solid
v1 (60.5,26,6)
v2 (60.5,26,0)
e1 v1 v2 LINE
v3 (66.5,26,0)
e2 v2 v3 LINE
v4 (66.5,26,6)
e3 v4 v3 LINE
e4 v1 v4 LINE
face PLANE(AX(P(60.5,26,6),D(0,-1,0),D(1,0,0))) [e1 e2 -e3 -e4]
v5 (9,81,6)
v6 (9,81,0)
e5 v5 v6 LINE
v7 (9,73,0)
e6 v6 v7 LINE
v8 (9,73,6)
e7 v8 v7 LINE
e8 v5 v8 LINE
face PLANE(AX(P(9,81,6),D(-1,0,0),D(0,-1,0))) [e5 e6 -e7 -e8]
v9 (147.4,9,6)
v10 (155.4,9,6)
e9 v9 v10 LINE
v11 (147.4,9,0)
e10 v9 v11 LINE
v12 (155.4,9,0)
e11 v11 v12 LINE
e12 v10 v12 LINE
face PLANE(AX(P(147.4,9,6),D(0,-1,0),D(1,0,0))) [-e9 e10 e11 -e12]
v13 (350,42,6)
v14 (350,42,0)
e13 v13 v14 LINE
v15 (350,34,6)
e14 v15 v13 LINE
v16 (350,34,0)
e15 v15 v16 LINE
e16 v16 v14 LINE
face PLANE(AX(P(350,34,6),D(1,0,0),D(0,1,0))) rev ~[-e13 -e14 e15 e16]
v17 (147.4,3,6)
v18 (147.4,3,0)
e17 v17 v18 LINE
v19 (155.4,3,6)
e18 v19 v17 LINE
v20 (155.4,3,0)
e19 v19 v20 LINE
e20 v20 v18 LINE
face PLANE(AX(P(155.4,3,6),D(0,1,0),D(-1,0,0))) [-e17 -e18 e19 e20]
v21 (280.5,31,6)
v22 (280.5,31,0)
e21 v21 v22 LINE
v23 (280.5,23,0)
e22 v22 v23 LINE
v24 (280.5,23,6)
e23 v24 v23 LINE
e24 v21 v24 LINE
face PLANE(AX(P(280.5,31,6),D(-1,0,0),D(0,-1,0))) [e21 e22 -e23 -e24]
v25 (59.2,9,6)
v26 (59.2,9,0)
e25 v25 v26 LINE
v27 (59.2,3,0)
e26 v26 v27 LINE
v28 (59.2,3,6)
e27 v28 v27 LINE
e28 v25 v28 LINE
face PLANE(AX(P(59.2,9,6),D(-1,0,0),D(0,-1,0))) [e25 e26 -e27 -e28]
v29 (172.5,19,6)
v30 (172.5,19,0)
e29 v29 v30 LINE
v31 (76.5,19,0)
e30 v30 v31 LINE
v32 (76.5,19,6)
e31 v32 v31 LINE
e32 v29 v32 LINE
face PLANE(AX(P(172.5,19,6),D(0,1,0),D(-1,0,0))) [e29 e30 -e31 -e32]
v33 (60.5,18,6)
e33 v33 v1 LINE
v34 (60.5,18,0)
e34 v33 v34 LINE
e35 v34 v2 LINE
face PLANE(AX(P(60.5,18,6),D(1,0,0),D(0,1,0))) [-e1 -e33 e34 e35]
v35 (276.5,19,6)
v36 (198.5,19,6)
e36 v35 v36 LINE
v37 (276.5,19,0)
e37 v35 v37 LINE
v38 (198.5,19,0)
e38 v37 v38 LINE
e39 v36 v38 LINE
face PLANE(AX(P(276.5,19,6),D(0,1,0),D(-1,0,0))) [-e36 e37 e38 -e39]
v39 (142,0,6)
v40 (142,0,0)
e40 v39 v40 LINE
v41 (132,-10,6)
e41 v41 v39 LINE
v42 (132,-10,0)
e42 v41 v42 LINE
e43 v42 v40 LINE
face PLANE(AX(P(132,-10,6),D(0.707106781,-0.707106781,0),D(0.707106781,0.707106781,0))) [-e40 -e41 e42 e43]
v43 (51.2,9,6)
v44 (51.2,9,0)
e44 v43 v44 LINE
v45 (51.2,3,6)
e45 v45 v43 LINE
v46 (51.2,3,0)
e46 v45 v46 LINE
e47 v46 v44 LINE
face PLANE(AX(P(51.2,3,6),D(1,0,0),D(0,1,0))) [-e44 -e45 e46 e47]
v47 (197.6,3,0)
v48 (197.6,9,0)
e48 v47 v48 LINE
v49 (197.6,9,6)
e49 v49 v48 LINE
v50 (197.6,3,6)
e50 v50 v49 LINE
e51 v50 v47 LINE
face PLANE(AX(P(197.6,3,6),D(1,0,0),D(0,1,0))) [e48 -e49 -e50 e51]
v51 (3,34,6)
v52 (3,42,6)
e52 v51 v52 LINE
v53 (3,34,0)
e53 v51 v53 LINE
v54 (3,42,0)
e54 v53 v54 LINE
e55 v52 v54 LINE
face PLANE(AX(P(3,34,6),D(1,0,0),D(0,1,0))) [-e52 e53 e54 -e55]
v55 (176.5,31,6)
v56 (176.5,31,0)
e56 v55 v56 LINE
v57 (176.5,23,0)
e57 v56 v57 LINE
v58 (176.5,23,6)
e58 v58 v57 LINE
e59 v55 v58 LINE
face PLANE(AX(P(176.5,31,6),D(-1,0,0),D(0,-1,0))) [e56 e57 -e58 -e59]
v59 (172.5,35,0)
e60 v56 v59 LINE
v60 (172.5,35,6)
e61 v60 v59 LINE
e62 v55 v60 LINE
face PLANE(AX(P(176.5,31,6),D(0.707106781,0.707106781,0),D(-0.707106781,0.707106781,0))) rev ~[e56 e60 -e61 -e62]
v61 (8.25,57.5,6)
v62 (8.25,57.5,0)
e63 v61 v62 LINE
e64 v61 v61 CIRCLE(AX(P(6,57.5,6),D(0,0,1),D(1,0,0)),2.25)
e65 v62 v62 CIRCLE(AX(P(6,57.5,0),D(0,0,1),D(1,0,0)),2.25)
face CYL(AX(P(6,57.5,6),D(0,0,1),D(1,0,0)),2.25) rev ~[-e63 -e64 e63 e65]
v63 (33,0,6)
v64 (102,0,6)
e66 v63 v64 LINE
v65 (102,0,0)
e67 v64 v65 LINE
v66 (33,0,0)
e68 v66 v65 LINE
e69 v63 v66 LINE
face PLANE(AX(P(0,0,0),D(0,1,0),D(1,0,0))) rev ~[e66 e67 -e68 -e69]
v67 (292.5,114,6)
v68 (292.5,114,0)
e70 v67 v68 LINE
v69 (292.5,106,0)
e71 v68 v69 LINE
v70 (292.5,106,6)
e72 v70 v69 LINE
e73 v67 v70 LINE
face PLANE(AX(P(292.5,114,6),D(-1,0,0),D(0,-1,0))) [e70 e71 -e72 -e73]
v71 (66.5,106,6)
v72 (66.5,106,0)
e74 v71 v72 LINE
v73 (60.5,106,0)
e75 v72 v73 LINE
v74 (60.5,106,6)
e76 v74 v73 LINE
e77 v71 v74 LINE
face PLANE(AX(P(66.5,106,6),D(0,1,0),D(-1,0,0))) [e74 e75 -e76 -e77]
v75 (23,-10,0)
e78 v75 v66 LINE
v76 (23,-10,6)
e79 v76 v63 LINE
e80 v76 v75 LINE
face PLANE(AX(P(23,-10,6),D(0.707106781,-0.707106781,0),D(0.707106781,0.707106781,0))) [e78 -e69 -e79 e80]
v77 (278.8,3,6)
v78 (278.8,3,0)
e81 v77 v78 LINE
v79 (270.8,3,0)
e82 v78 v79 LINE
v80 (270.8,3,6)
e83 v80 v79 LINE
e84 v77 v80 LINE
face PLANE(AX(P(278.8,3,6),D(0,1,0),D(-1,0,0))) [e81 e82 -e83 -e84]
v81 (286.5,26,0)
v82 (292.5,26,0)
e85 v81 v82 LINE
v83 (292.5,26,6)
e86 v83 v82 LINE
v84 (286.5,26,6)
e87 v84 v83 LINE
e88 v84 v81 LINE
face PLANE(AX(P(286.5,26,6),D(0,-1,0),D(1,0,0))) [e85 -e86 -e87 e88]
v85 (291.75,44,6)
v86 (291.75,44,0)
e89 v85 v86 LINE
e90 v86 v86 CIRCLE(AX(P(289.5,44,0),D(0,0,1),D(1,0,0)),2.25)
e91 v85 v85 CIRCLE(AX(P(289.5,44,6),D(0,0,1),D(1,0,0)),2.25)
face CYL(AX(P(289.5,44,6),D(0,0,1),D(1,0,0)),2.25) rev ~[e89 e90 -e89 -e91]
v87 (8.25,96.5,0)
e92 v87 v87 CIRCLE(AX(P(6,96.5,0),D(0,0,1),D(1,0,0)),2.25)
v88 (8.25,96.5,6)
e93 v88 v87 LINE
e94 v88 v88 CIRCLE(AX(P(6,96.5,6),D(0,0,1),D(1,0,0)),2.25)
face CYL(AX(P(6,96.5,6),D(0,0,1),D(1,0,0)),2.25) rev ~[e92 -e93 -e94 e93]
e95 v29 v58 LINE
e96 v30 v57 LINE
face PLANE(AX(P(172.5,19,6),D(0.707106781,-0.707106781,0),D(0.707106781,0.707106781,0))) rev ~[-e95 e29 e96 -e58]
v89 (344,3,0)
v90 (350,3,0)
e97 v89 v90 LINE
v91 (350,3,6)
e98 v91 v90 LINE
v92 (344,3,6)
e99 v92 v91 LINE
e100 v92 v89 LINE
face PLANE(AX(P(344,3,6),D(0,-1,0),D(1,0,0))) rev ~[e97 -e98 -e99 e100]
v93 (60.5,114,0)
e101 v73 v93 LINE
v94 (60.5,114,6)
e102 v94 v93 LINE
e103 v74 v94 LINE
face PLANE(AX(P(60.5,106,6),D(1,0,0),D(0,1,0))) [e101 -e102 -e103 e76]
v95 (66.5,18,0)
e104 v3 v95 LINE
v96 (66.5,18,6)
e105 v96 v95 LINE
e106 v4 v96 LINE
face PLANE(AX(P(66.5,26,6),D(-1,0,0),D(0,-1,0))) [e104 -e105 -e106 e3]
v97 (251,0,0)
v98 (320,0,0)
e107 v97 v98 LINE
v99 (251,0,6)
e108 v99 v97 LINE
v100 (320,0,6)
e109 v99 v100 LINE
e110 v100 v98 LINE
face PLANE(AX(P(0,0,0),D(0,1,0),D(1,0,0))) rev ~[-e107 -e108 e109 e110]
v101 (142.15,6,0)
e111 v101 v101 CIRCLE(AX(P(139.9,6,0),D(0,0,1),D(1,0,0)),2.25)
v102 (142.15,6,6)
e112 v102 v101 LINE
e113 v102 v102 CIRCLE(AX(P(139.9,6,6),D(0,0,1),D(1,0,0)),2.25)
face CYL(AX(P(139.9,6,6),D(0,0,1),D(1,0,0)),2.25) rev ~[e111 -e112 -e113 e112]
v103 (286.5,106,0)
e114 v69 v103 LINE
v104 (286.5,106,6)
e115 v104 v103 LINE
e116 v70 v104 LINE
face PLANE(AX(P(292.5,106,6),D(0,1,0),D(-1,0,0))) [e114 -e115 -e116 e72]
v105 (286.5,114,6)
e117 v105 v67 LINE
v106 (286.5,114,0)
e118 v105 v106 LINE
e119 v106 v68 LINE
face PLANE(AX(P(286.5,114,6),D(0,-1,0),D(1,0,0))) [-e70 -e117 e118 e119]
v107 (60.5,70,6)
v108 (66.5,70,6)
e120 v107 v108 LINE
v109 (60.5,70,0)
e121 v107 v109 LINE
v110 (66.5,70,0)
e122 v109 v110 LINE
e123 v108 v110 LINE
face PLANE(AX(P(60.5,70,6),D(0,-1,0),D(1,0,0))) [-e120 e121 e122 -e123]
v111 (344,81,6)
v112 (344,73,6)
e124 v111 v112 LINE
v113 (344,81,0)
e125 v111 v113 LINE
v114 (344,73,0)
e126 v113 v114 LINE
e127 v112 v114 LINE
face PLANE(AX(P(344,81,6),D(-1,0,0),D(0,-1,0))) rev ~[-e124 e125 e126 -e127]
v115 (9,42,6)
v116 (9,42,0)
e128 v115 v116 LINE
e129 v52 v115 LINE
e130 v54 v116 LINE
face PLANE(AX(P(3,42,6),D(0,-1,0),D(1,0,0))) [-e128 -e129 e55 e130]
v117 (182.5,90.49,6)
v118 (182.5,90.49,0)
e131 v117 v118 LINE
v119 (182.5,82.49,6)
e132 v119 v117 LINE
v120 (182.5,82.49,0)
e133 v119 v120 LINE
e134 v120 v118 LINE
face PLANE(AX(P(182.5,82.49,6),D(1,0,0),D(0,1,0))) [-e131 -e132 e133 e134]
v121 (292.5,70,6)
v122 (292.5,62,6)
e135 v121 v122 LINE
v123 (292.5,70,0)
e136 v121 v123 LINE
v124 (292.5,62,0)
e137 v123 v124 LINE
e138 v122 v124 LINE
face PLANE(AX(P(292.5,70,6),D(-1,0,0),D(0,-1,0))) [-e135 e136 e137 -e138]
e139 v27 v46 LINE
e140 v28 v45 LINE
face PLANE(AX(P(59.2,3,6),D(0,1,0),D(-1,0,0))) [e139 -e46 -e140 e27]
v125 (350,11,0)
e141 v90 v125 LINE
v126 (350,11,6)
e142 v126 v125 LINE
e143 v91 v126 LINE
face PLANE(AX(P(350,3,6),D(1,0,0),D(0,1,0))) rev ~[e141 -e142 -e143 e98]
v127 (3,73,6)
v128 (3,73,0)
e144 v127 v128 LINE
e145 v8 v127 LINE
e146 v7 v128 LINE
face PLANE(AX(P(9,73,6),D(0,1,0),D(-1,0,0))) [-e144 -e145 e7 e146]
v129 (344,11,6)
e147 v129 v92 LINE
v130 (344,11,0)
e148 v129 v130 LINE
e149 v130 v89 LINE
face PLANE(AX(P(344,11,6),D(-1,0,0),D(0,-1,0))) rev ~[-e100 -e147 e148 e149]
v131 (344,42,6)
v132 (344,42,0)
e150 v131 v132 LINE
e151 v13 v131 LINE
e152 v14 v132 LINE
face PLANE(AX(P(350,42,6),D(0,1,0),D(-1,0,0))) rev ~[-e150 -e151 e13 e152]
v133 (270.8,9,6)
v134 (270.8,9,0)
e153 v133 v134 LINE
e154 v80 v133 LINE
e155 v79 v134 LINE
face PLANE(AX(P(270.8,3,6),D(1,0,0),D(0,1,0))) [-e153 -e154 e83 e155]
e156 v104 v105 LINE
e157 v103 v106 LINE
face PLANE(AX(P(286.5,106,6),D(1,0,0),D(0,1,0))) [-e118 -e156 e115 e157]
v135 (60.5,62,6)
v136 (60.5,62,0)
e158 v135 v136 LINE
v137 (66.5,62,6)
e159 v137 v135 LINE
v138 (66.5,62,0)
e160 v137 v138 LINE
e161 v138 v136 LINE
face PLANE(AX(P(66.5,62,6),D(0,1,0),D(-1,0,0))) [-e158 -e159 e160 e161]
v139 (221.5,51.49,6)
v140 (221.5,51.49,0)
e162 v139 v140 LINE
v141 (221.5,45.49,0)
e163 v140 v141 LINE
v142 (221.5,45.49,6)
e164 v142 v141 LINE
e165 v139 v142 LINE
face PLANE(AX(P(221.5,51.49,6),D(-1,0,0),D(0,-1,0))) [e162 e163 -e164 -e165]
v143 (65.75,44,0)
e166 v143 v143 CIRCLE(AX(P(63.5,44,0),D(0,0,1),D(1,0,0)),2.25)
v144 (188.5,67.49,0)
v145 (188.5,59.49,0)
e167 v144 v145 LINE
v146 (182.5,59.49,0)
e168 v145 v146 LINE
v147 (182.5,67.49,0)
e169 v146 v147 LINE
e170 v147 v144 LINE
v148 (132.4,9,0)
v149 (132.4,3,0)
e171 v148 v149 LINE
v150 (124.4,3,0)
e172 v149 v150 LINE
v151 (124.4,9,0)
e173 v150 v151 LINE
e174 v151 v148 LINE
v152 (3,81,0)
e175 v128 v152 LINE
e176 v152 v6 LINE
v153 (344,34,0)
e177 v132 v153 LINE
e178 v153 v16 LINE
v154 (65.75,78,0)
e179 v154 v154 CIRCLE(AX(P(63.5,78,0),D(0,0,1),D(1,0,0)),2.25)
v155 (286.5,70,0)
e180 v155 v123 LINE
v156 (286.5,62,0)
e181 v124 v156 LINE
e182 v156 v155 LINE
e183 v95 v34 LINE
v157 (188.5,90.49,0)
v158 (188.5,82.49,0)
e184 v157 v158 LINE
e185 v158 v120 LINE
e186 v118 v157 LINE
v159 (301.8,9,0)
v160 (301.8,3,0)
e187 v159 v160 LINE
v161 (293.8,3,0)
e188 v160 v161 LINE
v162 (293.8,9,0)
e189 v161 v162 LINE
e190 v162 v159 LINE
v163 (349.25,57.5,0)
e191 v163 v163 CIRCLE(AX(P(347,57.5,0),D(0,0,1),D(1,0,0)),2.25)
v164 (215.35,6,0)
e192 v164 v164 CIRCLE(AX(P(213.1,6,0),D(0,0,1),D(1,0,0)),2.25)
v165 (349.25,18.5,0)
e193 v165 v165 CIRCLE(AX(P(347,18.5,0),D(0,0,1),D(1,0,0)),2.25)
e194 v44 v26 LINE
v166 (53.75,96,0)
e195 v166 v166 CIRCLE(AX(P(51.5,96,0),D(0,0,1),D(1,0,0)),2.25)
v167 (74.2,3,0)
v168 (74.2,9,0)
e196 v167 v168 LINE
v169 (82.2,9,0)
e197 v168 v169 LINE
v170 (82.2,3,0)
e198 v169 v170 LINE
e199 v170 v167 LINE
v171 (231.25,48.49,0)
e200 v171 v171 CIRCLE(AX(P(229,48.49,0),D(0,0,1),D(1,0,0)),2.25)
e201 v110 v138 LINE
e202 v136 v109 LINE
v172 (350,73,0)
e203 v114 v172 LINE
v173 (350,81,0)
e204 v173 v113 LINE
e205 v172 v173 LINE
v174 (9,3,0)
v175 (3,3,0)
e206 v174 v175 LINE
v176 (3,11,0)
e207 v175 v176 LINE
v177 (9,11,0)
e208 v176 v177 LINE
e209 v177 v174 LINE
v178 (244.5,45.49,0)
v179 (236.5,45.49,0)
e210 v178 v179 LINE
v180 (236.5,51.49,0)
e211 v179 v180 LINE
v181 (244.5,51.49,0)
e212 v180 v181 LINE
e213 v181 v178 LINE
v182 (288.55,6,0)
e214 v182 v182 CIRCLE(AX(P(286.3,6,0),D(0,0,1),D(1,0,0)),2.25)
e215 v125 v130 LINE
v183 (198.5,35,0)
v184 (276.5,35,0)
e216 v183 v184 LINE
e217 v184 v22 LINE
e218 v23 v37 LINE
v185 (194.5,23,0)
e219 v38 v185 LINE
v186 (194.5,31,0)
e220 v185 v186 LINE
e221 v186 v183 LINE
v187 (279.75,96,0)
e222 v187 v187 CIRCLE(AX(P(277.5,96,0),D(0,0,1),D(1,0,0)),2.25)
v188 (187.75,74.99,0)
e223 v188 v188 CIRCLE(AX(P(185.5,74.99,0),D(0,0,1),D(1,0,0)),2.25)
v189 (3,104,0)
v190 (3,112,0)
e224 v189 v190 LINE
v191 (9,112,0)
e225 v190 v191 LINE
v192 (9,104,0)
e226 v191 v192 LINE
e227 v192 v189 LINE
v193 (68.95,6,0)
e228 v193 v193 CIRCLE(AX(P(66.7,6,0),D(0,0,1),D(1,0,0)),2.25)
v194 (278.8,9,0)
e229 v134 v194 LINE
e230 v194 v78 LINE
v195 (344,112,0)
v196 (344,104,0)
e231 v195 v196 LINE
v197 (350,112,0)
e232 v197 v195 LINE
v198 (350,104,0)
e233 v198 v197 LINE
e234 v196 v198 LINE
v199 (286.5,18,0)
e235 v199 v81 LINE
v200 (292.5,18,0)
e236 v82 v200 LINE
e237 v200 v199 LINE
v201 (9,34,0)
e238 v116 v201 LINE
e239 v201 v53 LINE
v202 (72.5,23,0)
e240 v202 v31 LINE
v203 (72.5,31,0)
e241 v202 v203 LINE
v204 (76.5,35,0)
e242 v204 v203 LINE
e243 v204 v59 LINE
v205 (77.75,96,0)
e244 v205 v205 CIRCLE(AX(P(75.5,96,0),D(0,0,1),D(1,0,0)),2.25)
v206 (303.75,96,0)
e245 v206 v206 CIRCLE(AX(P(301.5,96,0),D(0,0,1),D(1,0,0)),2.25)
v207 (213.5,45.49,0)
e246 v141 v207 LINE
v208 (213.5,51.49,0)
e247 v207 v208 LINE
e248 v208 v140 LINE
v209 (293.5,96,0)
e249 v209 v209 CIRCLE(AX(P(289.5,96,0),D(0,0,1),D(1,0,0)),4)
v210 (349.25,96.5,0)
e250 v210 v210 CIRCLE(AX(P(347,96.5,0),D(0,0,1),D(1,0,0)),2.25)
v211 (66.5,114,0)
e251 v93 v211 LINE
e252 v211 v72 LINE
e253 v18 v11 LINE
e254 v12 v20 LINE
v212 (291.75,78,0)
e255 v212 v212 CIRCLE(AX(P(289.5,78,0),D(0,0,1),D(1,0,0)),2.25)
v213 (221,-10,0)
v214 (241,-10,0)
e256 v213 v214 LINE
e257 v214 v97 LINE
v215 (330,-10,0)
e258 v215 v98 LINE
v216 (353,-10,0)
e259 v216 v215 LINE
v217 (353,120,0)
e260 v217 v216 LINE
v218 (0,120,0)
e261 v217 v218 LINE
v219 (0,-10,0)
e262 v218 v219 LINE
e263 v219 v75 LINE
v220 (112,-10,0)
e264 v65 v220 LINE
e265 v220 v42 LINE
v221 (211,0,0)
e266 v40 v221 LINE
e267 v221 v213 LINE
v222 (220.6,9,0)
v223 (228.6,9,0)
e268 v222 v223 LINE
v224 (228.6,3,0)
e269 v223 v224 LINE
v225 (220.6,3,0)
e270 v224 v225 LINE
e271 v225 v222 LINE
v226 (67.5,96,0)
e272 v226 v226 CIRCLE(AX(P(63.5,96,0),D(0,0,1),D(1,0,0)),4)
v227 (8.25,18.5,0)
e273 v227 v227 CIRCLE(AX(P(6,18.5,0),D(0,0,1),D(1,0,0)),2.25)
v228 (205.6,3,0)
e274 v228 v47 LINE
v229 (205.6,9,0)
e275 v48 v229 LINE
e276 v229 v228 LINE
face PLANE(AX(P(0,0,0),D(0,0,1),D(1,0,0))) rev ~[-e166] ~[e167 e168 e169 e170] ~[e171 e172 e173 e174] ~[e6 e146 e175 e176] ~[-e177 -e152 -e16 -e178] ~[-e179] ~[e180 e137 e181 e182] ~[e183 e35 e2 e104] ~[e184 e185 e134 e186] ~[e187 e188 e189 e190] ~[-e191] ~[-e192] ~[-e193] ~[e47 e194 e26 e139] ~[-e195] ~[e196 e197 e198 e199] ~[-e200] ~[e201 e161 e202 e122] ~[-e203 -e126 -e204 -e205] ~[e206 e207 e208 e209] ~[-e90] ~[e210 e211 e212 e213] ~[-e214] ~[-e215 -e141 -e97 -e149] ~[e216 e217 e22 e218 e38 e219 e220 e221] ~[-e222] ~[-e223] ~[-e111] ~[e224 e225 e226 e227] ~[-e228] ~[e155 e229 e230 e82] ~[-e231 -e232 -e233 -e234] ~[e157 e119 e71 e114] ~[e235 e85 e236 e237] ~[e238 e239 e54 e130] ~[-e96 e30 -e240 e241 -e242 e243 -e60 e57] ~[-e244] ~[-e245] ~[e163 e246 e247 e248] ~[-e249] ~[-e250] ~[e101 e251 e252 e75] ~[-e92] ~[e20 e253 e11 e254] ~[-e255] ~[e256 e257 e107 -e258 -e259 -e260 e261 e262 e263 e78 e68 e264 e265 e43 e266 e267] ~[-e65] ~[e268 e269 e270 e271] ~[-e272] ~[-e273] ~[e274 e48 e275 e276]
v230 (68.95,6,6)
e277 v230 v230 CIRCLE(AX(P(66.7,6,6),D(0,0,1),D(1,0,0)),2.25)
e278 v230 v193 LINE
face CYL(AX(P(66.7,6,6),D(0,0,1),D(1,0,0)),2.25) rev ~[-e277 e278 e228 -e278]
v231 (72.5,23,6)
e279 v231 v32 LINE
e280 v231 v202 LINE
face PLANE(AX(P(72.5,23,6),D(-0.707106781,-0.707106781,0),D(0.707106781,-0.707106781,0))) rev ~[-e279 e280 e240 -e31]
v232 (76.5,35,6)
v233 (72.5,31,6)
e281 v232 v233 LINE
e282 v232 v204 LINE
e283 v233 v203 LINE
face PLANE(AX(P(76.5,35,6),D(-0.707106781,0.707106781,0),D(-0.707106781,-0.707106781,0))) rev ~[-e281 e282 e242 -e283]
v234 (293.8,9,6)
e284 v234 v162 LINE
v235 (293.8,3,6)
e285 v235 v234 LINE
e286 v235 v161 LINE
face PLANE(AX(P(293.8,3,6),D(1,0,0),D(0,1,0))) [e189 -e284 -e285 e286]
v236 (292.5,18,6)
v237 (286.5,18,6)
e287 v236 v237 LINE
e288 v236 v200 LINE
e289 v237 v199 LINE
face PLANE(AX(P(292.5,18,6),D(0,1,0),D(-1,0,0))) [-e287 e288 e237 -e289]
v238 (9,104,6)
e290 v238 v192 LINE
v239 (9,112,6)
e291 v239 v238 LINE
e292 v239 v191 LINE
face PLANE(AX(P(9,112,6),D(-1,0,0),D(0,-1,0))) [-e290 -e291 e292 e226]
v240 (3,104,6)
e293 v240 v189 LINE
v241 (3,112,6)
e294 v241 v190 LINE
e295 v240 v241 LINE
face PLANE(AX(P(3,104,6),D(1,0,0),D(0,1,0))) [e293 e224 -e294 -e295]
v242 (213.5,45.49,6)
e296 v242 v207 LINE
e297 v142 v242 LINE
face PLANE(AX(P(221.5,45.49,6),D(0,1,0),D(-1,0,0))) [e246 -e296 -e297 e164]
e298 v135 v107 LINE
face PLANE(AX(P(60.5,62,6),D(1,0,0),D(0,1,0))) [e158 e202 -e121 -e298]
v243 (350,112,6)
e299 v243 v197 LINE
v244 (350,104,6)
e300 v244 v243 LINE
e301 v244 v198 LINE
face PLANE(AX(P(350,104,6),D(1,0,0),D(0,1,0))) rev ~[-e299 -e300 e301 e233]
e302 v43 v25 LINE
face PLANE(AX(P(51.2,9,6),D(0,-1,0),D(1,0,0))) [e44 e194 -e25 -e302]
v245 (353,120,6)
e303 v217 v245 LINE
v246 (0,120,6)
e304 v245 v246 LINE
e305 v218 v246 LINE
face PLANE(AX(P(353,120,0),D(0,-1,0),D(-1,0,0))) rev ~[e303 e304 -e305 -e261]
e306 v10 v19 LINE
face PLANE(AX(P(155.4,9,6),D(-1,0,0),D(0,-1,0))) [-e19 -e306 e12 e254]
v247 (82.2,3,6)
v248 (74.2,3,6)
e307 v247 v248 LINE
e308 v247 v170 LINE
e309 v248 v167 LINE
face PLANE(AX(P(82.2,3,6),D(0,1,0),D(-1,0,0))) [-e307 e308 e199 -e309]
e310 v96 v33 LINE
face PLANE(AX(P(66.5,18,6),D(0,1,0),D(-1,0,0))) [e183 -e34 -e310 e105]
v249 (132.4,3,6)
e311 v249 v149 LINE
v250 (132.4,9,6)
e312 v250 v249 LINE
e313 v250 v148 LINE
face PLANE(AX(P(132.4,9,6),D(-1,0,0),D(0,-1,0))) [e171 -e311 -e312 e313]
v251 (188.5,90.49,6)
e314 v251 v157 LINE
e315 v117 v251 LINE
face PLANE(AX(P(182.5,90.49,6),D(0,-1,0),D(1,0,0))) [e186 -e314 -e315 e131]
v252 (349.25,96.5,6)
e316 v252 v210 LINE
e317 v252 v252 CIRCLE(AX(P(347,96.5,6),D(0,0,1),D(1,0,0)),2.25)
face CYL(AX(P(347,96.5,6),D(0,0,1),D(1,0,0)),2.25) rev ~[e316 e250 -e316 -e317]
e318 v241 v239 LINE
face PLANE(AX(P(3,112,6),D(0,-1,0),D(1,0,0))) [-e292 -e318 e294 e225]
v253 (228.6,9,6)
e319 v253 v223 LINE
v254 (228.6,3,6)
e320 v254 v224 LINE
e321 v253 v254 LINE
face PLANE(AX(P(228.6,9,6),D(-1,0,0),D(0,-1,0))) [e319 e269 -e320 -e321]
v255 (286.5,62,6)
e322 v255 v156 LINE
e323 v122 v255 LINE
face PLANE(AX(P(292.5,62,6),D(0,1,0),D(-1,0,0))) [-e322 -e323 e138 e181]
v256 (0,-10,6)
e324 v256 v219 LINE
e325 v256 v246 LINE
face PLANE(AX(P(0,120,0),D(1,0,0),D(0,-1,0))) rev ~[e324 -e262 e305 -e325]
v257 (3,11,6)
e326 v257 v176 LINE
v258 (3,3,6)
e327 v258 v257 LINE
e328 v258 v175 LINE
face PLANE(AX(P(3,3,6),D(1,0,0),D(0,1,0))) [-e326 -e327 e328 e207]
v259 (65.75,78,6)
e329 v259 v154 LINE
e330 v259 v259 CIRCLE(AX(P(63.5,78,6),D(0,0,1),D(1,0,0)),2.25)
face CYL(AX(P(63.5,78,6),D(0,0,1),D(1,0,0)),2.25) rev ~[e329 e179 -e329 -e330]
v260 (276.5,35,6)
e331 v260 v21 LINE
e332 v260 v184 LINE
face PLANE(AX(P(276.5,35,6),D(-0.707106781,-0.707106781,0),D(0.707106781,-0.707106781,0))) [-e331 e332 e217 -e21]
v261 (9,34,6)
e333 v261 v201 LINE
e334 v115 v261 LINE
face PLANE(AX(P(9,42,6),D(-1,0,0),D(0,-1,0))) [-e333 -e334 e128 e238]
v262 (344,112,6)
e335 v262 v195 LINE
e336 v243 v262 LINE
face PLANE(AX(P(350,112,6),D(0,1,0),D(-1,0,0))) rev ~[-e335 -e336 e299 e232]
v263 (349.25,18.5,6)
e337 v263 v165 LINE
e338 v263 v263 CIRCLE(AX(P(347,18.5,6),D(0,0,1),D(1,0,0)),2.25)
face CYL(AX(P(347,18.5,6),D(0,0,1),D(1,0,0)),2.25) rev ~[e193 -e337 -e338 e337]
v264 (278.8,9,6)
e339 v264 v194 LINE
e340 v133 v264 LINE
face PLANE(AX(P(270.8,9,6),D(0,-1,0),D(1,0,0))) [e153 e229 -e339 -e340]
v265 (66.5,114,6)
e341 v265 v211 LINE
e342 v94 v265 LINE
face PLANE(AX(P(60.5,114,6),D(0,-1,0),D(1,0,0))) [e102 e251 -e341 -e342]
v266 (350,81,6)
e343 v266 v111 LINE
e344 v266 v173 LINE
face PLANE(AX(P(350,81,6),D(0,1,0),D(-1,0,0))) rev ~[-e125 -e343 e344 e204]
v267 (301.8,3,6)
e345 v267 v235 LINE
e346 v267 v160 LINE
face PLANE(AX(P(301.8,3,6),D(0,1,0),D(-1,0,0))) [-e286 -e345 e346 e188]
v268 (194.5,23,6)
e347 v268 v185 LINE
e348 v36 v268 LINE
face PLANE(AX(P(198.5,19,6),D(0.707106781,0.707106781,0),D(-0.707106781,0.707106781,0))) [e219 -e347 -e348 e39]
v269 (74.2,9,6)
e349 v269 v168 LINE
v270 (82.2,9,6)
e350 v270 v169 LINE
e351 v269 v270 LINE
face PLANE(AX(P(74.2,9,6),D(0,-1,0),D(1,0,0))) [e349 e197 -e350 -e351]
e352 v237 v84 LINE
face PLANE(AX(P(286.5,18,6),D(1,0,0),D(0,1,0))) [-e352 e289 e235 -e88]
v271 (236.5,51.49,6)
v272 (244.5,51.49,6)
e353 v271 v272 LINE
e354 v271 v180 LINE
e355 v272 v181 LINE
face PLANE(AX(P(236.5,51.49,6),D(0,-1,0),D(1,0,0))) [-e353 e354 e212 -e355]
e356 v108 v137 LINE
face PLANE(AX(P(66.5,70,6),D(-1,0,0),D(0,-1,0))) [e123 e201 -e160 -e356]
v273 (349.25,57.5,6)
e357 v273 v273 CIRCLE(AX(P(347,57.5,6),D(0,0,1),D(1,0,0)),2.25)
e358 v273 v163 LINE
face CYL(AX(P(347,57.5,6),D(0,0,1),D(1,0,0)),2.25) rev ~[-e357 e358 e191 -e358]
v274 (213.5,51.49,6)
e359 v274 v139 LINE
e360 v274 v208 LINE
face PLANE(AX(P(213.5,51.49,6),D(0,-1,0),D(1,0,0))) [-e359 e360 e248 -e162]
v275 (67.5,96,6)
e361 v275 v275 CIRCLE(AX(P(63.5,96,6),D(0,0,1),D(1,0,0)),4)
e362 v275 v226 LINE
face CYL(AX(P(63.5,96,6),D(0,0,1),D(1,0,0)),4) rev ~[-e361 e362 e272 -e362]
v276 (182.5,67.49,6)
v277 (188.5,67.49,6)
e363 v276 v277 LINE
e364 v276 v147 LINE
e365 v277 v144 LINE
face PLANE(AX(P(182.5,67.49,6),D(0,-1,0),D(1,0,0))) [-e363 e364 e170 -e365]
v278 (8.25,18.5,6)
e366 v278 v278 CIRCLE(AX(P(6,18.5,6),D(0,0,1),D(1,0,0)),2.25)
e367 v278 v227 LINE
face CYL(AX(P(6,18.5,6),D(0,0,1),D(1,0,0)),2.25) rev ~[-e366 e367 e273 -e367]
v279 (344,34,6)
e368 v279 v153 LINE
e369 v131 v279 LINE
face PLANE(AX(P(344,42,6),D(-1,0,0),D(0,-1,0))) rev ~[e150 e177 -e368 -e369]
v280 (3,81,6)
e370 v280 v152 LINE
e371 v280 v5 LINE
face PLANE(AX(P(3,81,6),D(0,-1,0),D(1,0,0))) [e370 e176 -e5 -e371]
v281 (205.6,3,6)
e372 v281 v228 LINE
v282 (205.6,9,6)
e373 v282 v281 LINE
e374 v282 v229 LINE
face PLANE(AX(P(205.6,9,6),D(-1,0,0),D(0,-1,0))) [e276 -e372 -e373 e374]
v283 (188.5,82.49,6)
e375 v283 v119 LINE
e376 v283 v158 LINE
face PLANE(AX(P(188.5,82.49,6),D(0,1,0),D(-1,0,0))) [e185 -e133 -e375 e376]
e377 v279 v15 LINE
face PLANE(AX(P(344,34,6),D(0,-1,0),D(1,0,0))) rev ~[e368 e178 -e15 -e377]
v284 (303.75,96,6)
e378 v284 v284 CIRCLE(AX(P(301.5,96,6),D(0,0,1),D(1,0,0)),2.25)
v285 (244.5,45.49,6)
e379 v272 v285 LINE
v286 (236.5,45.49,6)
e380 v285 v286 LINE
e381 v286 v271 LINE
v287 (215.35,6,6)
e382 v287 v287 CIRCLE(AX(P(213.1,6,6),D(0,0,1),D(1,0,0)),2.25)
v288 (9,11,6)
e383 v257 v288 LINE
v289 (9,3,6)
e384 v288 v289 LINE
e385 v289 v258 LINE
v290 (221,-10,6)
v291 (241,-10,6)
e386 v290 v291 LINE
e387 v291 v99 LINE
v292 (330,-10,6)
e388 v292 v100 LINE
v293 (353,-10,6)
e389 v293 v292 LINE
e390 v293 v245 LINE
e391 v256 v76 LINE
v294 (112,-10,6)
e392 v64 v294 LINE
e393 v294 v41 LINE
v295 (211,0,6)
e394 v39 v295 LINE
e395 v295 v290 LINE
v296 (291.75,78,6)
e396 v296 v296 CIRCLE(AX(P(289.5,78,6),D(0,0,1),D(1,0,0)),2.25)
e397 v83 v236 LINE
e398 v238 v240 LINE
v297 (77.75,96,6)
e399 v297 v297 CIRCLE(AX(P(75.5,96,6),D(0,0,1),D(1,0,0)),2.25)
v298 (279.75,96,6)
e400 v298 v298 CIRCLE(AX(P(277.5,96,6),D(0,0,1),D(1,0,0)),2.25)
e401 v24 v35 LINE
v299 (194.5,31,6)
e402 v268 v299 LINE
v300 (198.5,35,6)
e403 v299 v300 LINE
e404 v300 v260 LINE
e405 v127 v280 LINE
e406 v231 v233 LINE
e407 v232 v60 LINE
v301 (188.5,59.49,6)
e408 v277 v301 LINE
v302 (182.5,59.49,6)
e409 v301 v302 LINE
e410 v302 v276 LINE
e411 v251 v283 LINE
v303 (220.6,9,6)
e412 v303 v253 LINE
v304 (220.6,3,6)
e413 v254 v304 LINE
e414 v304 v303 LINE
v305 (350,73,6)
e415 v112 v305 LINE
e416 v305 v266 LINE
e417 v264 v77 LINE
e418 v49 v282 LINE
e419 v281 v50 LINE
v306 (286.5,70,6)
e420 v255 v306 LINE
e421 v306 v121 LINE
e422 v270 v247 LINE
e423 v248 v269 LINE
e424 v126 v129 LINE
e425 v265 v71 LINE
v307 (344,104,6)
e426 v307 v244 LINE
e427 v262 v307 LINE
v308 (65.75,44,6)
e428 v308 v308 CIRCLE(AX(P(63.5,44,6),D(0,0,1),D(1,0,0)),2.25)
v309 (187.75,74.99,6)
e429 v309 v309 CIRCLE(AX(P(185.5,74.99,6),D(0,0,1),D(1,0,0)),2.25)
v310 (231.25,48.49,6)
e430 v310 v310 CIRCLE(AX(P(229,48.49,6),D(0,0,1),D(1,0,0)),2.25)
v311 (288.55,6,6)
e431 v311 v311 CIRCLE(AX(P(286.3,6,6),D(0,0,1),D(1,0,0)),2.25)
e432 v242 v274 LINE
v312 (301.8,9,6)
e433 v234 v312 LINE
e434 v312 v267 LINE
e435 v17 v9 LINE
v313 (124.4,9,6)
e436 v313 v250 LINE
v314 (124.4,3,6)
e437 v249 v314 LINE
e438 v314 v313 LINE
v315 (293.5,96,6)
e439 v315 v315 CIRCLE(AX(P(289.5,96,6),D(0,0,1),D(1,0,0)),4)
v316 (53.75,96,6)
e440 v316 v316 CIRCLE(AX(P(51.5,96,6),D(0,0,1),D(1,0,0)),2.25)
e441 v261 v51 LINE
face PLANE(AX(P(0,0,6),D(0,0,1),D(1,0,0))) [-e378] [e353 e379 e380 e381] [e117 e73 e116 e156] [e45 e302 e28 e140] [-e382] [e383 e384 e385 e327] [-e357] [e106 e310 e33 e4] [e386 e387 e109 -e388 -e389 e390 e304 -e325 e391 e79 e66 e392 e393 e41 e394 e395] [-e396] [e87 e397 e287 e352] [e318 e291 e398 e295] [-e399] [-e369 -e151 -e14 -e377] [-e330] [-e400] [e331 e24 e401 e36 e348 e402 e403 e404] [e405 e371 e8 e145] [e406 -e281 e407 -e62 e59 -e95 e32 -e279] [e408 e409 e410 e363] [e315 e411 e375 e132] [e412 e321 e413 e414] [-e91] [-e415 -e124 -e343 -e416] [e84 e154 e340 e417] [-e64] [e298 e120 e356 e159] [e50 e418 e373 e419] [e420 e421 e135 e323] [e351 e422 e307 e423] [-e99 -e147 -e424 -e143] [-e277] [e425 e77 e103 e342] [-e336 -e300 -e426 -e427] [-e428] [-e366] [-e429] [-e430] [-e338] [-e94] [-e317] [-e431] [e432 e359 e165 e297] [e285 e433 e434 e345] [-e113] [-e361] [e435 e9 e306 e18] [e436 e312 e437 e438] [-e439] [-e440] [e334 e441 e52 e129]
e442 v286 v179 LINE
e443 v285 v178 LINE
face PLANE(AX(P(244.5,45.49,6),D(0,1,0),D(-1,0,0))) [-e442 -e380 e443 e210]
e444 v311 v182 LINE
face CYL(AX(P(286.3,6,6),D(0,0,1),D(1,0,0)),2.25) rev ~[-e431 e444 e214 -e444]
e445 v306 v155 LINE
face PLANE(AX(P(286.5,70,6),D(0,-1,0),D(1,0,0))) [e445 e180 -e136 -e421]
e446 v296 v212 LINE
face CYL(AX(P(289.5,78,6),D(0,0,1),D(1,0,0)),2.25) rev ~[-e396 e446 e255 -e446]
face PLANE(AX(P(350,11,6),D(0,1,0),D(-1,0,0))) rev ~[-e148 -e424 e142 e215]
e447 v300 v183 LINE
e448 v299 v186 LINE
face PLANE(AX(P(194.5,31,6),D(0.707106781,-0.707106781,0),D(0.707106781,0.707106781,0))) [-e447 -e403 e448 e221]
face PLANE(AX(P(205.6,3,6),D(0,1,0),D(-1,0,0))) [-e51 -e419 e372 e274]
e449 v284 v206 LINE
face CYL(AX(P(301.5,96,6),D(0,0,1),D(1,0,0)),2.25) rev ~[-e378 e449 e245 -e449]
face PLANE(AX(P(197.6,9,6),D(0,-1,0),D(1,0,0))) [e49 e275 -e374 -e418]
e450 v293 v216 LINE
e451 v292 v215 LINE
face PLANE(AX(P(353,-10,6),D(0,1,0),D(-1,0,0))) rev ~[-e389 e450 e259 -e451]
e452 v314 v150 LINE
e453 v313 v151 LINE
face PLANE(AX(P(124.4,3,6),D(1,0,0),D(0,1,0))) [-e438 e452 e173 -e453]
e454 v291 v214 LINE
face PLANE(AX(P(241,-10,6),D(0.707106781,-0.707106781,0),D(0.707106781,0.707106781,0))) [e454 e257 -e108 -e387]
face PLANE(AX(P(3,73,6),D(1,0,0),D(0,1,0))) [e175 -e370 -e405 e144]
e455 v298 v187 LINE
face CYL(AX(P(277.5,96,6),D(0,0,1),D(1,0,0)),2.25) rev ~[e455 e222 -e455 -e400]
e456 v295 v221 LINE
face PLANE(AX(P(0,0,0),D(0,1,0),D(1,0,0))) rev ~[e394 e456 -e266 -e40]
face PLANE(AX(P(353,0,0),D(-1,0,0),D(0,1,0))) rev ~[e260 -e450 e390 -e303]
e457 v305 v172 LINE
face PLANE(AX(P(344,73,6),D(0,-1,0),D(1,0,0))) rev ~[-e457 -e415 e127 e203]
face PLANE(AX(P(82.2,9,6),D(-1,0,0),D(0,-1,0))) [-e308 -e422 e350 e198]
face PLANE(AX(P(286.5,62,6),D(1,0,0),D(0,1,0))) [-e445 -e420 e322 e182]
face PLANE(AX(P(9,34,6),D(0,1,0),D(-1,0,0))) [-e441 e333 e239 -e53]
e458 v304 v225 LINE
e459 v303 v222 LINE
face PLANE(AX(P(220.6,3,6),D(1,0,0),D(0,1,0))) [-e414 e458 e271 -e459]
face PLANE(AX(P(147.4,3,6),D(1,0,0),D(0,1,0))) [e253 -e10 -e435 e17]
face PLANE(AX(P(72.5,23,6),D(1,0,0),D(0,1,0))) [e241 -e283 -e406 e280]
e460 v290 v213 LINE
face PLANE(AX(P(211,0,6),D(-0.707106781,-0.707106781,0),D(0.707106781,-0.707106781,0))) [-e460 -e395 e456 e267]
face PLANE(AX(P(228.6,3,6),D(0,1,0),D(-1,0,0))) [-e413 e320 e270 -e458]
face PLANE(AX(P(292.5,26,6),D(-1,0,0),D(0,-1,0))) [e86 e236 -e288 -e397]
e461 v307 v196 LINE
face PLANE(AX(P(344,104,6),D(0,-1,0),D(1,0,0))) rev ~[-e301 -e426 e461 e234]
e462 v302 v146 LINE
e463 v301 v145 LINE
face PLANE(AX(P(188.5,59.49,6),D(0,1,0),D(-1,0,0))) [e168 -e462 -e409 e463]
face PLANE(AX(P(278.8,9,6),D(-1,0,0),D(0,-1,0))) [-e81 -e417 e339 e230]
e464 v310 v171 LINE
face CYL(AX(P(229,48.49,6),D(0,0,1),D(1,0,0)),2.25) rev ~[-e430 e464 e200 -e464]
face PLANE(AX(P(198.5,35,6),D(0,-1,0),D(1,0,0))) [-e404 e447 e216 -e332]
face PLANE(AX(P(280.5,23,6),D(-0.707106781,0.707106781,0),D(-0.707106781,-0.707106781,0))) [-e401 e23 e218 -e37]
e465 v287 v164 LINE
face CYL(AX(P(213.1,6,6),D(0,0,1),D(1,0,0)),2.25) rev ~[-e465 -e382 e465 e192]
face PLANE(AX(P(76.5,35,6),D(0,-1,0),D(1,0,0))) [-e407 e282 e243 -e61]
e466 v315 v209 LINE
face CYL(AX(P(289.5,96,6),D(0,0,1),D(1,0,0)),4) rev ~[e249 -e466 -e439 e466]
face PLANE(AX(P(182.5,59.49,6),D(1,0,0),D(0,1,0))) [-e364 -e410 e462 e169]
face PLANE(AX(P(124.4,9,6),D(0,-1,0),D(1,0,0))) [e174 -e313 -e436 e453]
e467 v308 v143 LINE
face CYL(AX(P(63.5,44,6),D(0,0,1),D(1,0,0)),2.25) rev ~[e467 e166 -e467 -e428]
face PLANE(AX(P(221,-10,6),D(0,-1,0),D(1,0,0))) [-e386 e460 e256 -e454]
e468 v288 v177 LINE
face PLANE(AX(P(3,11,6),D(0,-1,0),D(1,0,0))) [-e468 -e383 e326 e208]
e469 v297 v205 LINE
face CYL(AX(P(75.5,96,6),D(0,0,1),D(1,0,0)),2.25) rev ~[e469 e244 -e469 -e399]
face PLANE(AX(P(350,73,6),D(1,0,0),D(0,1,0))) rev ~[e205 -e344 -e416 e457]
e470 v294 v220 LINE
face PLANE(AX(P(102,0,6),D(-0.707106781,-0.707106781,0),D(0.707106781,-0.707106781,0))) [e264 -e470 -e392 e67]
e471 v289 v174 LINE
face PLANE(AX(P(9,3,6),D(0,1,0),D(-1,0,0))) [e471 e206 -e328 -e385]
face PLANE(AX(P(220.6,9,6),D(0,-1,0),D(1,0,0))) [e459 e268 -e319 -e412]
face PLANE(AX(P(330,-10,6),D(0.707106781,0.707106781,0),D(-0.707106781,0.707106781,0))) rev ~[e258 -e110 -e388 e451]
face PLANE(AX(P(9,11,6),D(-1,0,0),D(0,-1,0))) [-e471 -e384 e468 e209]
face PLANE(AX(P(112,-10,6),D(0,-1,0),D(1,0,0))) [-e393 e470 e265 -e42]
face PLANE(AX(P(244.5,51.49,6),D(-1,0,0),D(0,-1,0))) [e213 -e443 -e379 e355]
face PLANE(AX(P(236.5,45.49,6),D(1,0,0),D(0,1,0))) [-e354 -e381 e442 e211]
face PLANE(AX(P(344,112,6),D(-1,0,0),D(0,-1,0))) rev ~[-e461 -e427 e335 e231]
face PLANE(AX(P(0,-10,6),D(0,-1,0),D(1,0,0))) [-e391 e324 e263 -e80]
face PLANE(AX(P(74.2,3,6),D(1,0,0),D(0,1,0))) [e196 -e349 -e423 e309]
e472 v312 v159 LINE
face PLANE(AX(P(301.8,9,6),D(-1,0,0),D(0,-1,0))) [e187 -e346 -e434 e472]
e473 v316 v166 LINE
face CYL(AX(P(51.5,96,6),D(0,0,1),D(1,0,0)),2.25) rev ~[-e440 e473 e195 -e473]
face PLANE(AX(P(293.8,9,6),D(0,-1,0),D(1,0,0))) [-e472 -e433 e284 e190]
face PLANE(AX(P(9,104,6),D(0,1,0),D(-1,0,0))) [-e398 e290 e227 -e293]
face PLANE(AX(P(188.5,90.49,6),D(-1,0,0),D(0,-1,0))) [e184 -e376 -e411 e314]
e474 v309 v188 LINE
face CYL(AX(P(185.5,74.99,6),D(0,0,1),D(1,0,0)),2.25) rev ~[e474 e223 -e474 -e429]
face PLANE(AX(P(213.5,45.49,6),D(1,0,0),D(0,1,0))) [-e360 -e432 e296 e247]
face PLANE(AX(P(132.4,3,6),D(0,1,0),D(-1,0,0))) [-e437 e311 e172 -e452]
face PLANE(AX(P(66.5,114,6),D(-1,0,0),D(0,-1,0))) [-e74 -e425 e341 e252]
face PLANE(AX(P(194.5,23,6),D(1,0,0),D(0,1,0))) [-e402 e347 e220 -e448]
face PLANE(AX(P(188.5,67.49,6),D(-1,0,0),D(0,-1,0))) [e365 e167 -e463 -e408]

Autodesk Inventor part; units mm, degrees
ref_plane "YZ Plane" through (0, 0, 0) normal (1, 0, 0) x (0, 1, 0)
ref_plane "XZ Plane" through (0, 0, 0) normal (0, 1, 0) x (-1, 0, 0)
ref_plane "XY Plane" through (0, 0, 0) normal (0, 0, 1) x (1, 0, 0)
sketch "Sketch1" plane through (0, 0, 0) normal (0, 0, 1) x (1, 0, 0)
  line L0 (0, 0) -> (353, 0)
  line L1 (353, 0) -> (353, 120)
  line L2 (353, 120) -> (0, 120)
  line L3 (0, 120) -> (0, 0)
  dimension "d0" = 120
  dimension "d1" = 353
extrude "Extrusion1" add sketch "Sketch1" along normal blind 6
sketch "Sketch3" plane through (0, 0, 6) normal (0, 0, 1) x (1, 0, 0)
  line L0 (0, 0) -> (353, 0) projected
  line L1 (353, 120) -> (0, 120) projected
  line L2 (0, 120) -> (0, 0) projected
  circle A0 centre (63.5, 96) radius 4
  circle A1 centre (289.5, 96) radius 4
  line L3 (63.5, 96) -> (289.5, 96) construction
  point P0 (176.5, 96)
  point P1 (176.5, 120)
  dimension "d9" = 8
  dimension "d10" = 96
  dimension "d11" = 226
extrude "Extrusion3" cut sketch "Sketch3" against normal through all
sketch "Sketch4" plane through (0, 0, 6) normal (0, 0, 1) x (1, 0, 0)
  line L0 (0, 0) -> (353, 0) projected
  line L1 (353, 120) -> (0, 120) projected
  line L2 (0, 120) -> (0, 0) projected
  circle A0 centre (6, 18.5) radius 2.25
  circle A1 centre (6, 57.5) radius 2.25
  circle A2 centre (6, 96.5) radius 2.25
  line L3 (176.5, 120) -> (176.5, 0) construction
  line L4 (3, 112) -> (9, 112)
  line L5 (9, 112) -> (9, 104)
  line L6 (9, 104) -> (3, 104)
  line L7 (3, 104) -> (3, 112)
  line L8 (3, 81) -> (9, 81)
  line L9 (9, 81) -> (9, 73)
  line L10 (9, 73) -> (3, 73)
  line L11 (3, 73) -> (3, 81)
  line L12 (3, 42) -> (9, 42)
  line L13 (9, 42) -> (9, 34)
  line L14 (9, 34) -> (3, 34)
  line L15 (3, 34) -> (3, 42)
  line L16 (3, 11) -> (9, 11)
  line L17 (9, 11) -> (9, 3)
  line L18 (9, 3) -> (3, 3)
  line L19 (3, 3) -> (3, 11)
  line L20 (6, 18.5) -> (6, 57.5) construction
  line L21 (6, 57.5) -> (6, 96.5) construction
  circle A3 centre (347, 18.5) radius 2.25
  circle A4 centre (347, 57.5) radius 2.25
  circle A5 centre (347, 96.5) radius 2.25
  line L22 (350, 112) -> (344, 112)
  line L23 (344, 112) -> (344, 104)
  line L24 (344, 104) -> (350, 104)
  line L25 (350, 104) -> (350, 112)
  line L26 (350, 81) -> (344, 81)
  line L27 (344, 81) -> (344, 73)
  line L28 (344, 73) -> (350, 73)
  line L29 (350, 73) -> (350, 81)
  line L30 (350, 42) -> (344, 42)
  line L31 (344, 42) -> (344, 34)
  line L32 (344, 34) -> (350, 34)
  line L33 (350, 34) -> (350, 42)
  line L34 (350, 11) -> (344, 11)
  line L35 (344, 11) -> (344, 3)
  line L36 (344, 3) -> (350, 3)
  line L37 (350, 3) -> (350, 11)
  line L38 (347, 18.5) -> (347, 57.5) construction
  line L39 (347, 57.5) -> (347, 96.5) construction
  point P0 (6, 104)
  point P1 (3, 38)
  point P2 (6, 38)
  point P3 (3, 77)
  point P4 (6, 77)
  point P5 (347, 104)
  point P6 (350, 38)
  point P7 (347, 38)
  point P8 (350, 77)
  point P9 (347, 77)
  dimension "d14" = 18.5
  dimension "d15" = 39
  dimension "d16" = 39
  dimension "d17" = 4.5
  dimension "d18" = 6
  dimension "d19" = 8
  dimension "d20" = 8
  dimension "d21" = 8
  dimension "d22" = 8
  dimension "d23" = 3
  dimension "d27" = 23
  dimension "d28" = 3
extrude "Extrusion4" cut sketch "Sketch4" against normal through all
sketch "Sketch5" plane through (0, 0, 6) normal (0, 0, 1) x (1, 0, 0)
  line L0 (0, 0) -> (353, 0) projected
  line L1 (51.2, 9) -> (59.2, 9)
  line L2 (59.2, 9) -> (59.2, 3)
  line L3 (59.2, 3) -> (51.2, 3)
  line L4 (51.2, 3) -> (51.2, 9)
  line L5 (74.2, 9) -> (82.2, 9)
  line L6 (82.2, 9) -> (82.2, 3)
  line L7 (82.2, 3) -> (74.2, 3)
  line L8 (74.2, 3) -> (74.2, 9)
  line L9 (59.2, 9) -> (74.2, 3) construction
  line L10 (74.2, 9) -> (59.2, 3) construction
  circle A0 centre (66.7, 6) radius 2.25
  line L11 (124.4, 9) -> (132.4, 9)
  line L12 (132.4, 9) -> (132.4, 3)
  line L13 (132.4, 3) -> (124.4, 3)
  line L14 (124.4, 3) -> (124.4, 9)
  line L15 (147.4, 9) -> (155.4, 9)
  line L16 (155.4, 9) -> (155.4, 3)
  line L17 (155.4, 3) -> (147.4, 3)
  line L18 (147.4, 3) -> (147.4, 9)
  line L19 (132.4, 9) -> (147.4, 3) construction
  line L20 (147.4, 9) -> (132.4, 3) construction
  circle A1 centre (139.9, 6) radius 2.25
  line L21 (197.6, 9) -> (205.6, 9)
  line L22 (205.6, 9) -> (205.6, 3)
  line L23 (205.6, 3) -> (197.6, 3)
  line L24 (197.6, 3) -> (197.6, 9)
  line L25 (220.6, 9) -> (228.6, 9)
  line L26 (228.6, 9) -> (228.6, 3)
  line L27 (228.6, 3) -> (220.6, 3)
  line L28 (220.6, 3) -> (220.6, 9)
  line L29 (205.6, 9) -> (220.6, 3) construction
  line L30 (220.6, 9) -> (205.6, 3) construction
  circle A2 centre (213.1, 6) radius 2.25
  line L31 (270.8, 9) -> (278.8, 9)
  line L32 (278.8, 9) -> (278.8, 3)
  line L33 (278.8, 3) -> (270.8, 3)
  line L34 (270.8, 3) -> (270.8, 9)
  line L35 (293.8, 9) -> (301.8, 9)
  line L36 (301.8, 9) -> (301.8, 3)
  line L37 (301.8, 3) -> (293.8, 3)
  line L38 (293.8, 3) -> (293.8, 9)
  line L39 (278.8, 9) -> (293.8, 3) construction
  line L40 (293.8, 9) -> (278.8, 3) construction
  circle A3 centre (286.3, 6) radius 2.25
  line L41 (51.2, 6) -> (9, 6) construction
  line L42 (82.2, 6) -> (124.4, 6) construction
  line L43 (155.4, 6) -> (197.6, 6) construction
  line L44 (228.6, 6) -> (270.8, 6) construction
  line L45 (301.8, 6) -> (344, 6) construction
  point P0 (9, 3)
  point P1 (344, 3)
  point P2 (286.3, 6)
  dimension "d31" = 8
  dimension "d32" = 6
  dimension "d33" = 8
  dimension "d34" = 15
  dimension "d35" = 4.5
  dimension "d36" = 8
  dimension "d37" = 6
  dimension "d38" = 8
  dimension "d39" = 15
  dimension "d40" = 4.5
  dimension "d41" = 8
  dimension "d42" = 6
  dimension "d43" = 8
  dimension "d44" = 15
  dimension "d45" = 4.5
  dimension "d46" = 8
  dimension "d47" = 6
  dimension "d48" = 8
  dimension "d49" = 15
  dimension "d50" = 4.5
  dimension "d51" = 3
extrude "Extrusion5" cut sketch "Sketch5" against normal through all
sketch "Sketch6" plane through (0, 0, 6) normal (0, 0, 1) x (1, 0, 0)
  line L0 (0, 0) -> (353, 0) projected
  line L1 (0, 120) -> (0, 0) projected
  line L2 (0, 0) -> (0, -10)
  line L3 (0, -10) -> (23, -10)
  line L4 (23, -10) -> (33, 0)
  line L5 (102, 0) -> (112, -10)
  line L6 (112, -10) -> (132, -10)
  line L7 (132, -10) -> (142, 0)
  line L8 (211, 0) -> (221, -10)
  line L9 (221, -10) -> (241, -10)
  line L10 (241, -10) -> (251, 0)
  line L11 (353, 0) -> (353, -10)
  line L12 (353, -10) -> (330, -10)
  line L13 (330, -10) -> (320, 0)
  line L14 (23, -10) -> (112, -10) construction
  line L15 (132, -10) -> (221, -10) construction
  line L16 (241, -10) -> (330, -10) construction
  dimension "d54" = 20
  dimension "d55" = 23
  dimension "d56" = 45
  dimension "d57" = 10
extrude "Extrusion6" add sketch "Sketch6" against normal blind 6
sketch "Sketch7" plane through (0, 0, 6) normal (0, 0, 1) x (1, 0, 0)
  line L0 (147.4, 9) -> (155.4, 9) projected
  line L1 (353, 120) -> (0, 120) projected
  line L2 (173.5, 81.1) -> (179.5, 81.1) construction
  line L3 (179.5, 81.1) -> (179.5, 68.88) construction
  line L4 (179.5, 68.88) -> (173.5, 68.88) construction
  line L5 (173.5, 68.88) -> (173.5, 81.1) construction
  line L6 (182.5, 90.49) -> (188.5, 90.49)
  line L7 (188.5, 90.49) -> (188.5, 82.49)
  line L8 (188.5, 82.49) -> (182.5, 82.49)
  line L9 (182.5, 82.49) -> (182.5, 90.49)
  line L10 (182.5, 67.49) -> (188.5, 67.49)
  line L11 (188.5, 67.49) -> (188.5, 59.49)
  line L12 (188.5, 59.49) -> (182.5, 59.49)
  line L13 (182.5, 59.49) -> (182.5, 67.49)
  line L14 (182.5, 82.49) -> (188.5, 67.49) construction
  line L15 (182.5, 67.49) -> (188.5, 82.49) construction
  circle A0 centre (185.5, 74.99) radius 2.25
  line L16 (213.5, 51.49) -> (221.5, 51.49)
  line L17 (221.5, 51.49) -> (221.5, 45.49)
  line L18 (221.5, 45.49) -> (213.5, 45.49)
  line L19 (213.5, 45.49) -> (213.5, 51.49)
  line L20 (236.5, 51.49) -> (244.5, 51.49)
  line L21 (244.5, 51.49) -> (244.5, 45.49)
  line L22 (244.5, 45.49) -> (236.5, 45.49)
  line L23 (236.5, 45.49) -> (236.5, 51.49)
  line L24 (221.5, 45.49) -> (236.5, 51.49) construction
  line L25 (221.5, 51.49) -> (236.5, 45.49) construction
  circle A1 centre (229, 48.49) radius 2.25
  point P0 (0, 0)
  point P1 (185.5, 74.99)
  point P2 (179.5, 74.99)
  point P3 (176.5, 81.1)
  point P4 (176.5, 120)
  dimension "d60" = 12.22
  dimension "d61" = 6
  dimension "d62" = 72.1
  dimension "d63" = 6
  dimension "d64" = 8
  dimension "d65" = 15
  dimension "d66" = 4.5
  dimension "d67" = 3
  dimension "d68" = 8
  dimension "d69" = 8
  dimension "d70" = 8
  dimension "d71" = 6
  dimension "d72" = 25
  dimension "d73" = 15
  dimension "d74" = 8
extrude "Extrusion7" cut sketch "Sketch7" against normal through all
sketch "Sketch8" plane through (0, 0, 6) normal (0, 0, 1) x (1, 0, 0)
  line L0 (213.5, 51.49) -> (221.5, 51.49) projected
  circle A0 centre (63.5, 96) radius 4 projected
  circle A1 centre (289.5, 96) radius 4 projected
  line L1 (0, -10) -> (23, -10) projected
  circle A2 centre (51.5, 96) radius 2.25
  circle A3 centre (75.5, 96) radius 2.25
  circle A4 centre (277.5, 96) radius 2.25
  circle A5 centre (301.5, 96) radius 2.25
  line L2 (51.5, 96) -> (75.5, 96) construction
  line L3 (277.5, 96) -> (301.5, 96) construction
  point P0 (0, 0)
  dimension "d77" = 24
  dimension "d78" = 4.5
extrude "Extrusion8" cut sketch "Sketch8" against normal through all contours A2 | A3 | A4 | A5
sketch "Sketch9" plane through (0, 0, 6) normal (0, 0, 1) x (1, 0, 0)
  circle A0 centre (63.5, 96) radius 4 projected
  circle A1 centre (289.5, 96) radius 4 projected
  line L0 (353, 120) -> (0, 120) projected
  line L1 (60.5, 114) -> (66.5, 114)
  line L2 (66.5, 114) -> (66.5, 106)
  line L3 (66.5, 106) -> (60.5, 106)
  line L4 (60.5, 106) -> (60.5, 114)
  line L5 (60.5, 70) -> (66.5, 70)
  line L6 (66.5, 70) -> (66.5, 62)
  line L7 (66.5, 62) -> (60.5, 62)
  line L8 (60.5, 62) -> (60.5, 70)
  line L9 (60.5, 26) -> (66.5, 26)
  line L10 (66.5, 26) -> (66.5, 18)
  line L11 (66.5, 18) -> (60.5, 18)
  line L12 (60.5, 18) -> (60.5, 26)
  line L13 (286.5, 114) -> (292.5, 114)
  line L14 (292.5, 114) -> (292.5, 106)
  line L15 (292.5, 106) -> (286.5, 106)
  line L16 (286.5, 106) -> (286.5, 114)
  line L17 (286.5, 70) -> (292.5, 70)
  line L18 (292.5, 70) -> (292.5, 62)
  line L19 (292.5, 62) -> (286.5, 62)
  line L20 (286.5, 62) -> (286.5, 70)
  line L21 (286.5, 26) -> (292.5, 26)
  line L22 (292.5, 26) -> (292.5, 18)
  line L23 (292.5, 18) -> (286.5, 18)
  line L24 (286.5, 18) -> (286.5, 26)
  point P0 (0, 0)
  point P1 (63.5, 106)
  point P2 (289.5, 106)
  dimension "d81" = 8
  dimension "d82" = 6
  dimension "d83" = 36
  dimension "d84" = 36
  dimension "d85" = 6
extrude "Extrusion9" cut sketch "Sketch9" against normal through all contours L1 L2 L3 L4 | L5 L6 L7 L8 | L9 L10 L11 L12 | L13 L14 L15 L16 | L17 L18 L19 L20 | L21 L22 L23 L24
sketch "Sketch10" plane through (0, 0, 6) normal (0, 0, 1) x (1, 0, 0)
  line L0 (286.5, 70) -> (292.5, 70) projected
  line L1 (60.5, 70) -> (66.5, 70) projected
  line L2 (60.5, 62) -> (66.5, 26) construction
  line L3 (60.5, 26) -> (66.5, 62) construction
  line L4 (286.5, 62) -> (292.5, 26) construction
  line L5 (286.5, 26) -> (292.5, 62) construction
  circle A0 centre (63.5, 44) radius 2.25
  circle A1 centre (289.5, 44) radius 2.25
  circle A2 centre (63.5, 78) radius 2.25
  circle A3 centre (289.5, 78) radius 2.25
  point P0 (0, 0)
  point P1 (289.5, 70)
  dimension "d88" = 4.5
  dimension "d89" = 8
  dimension "d90" = 8
extrude "Extrusion10" cut sketch "Sketch10" against normal through all
sketch "Sketch11" plane through (0, 0, 6) normal (0, 0, 1) x (1, 0, 0)
  line L0 (286.5, 62) -> (286.5, 70) projected
  line L1 (66.5, 70) -> (66.5, 62) projected
  line L2 (182.5, 59.49) -> (182.5, 67.49) projected
  line L3 (188.5, 67.49) -> (188.5, 59.49) projected
  line L4 (74.2, 9) -> (82.2, 9) projected
  line L5 (76.5, 35) -> (172.5, 35)
  line L6 (176.5, 31) -> (176.5, 23)
  line L7 (172.5, 19) -> (76.5, 19)
  line L8 (72.5, 23) -> (72.5, 31)
  line L9 (198.5, 35) -> (276.5, 35)
  line L10 (280.5, 31) -> (280.5, 23)
  line L11 (276.5, 19) -> (198.5, 19)
  line L12 (194.5, 23) -> (194.5, 31)
  line L13 (76.5, 35) -> (72.5, 31)
  line L14 (72.5, 23) -> (76.5, 19)
  line L15 (172.5, 19) -> (176.5, 23)
  line L16 (176.5, 31) -> (172.5, 35)
  line L17 (198.5, 19) -> (194.5, 23)
  line L18 (194.5, 31) -> (198.5, 35)
  line L19 (276.5, 35) -> (280.5, 31)
  line L20 (280.5, 23) -> (276.5, 19)
  point P0 (0, 0)
  point P1 (72.5, 35)
  point P2 (176.5, 19)
  point P3 (176.5, 35)
  point P4 (72.5, 19)
  point P5 (194.5, 35)
  point P6 (280.5, 19)
  point P7 (280.5, 35)
  point P8 (194.5, 19)
  dimension "d93" = 4
  dimension "d94" = 4
  dimension "d95" = 4
  dimension "d96" = 4
  dimension "d97" = 4
  dimension "d98" = 4
  dimension "d99" = 4
  dimension "d100" = 4
  dimension "d101" = 4
  dimension "d102" = 4
  dimension "d103" = 4
  dimension "d104" = 4
  dimension "d105" = 4
  dimension "d106" = 4
  dimension "d107" = 4
  dimension "d108" = 4
  dimension "d109" = 6
  dimension "d110" = 6
  dimension "d111" = 6
  dimension "d112" = 6
  dimension "d113" = 10
  dimension "d114" = 16
extrude "Extrusion11" cut sketch "Sketch11" against normal blind 6
equation "\"d84\" = d83"
equation "\"d90\" = d89"
equation "\"d94\" = d93"
equation "\"d95\" = d93"
equation "\"d96\" = d95"
equation "\"d97\" = d93"
equation "\"d98\" = d97"
equation "\"d99\" = d93"
equation "\"d100\" = d99"
equation "\"d101\" = d93"
equation "\"d102\" = d101"
equation "\"d103\" = d93"
equation "\"d104\" = d103"
equation "\"d105\" = d93"
equation "\"d106\" = d105"
equation "\"d107\" = d93"
equation "\"d108\" = d107"
equation "\"d110\" = d109"
equation "\"d111\" = d110"
equation "\"d112\" = d111"
properties part number "front"
